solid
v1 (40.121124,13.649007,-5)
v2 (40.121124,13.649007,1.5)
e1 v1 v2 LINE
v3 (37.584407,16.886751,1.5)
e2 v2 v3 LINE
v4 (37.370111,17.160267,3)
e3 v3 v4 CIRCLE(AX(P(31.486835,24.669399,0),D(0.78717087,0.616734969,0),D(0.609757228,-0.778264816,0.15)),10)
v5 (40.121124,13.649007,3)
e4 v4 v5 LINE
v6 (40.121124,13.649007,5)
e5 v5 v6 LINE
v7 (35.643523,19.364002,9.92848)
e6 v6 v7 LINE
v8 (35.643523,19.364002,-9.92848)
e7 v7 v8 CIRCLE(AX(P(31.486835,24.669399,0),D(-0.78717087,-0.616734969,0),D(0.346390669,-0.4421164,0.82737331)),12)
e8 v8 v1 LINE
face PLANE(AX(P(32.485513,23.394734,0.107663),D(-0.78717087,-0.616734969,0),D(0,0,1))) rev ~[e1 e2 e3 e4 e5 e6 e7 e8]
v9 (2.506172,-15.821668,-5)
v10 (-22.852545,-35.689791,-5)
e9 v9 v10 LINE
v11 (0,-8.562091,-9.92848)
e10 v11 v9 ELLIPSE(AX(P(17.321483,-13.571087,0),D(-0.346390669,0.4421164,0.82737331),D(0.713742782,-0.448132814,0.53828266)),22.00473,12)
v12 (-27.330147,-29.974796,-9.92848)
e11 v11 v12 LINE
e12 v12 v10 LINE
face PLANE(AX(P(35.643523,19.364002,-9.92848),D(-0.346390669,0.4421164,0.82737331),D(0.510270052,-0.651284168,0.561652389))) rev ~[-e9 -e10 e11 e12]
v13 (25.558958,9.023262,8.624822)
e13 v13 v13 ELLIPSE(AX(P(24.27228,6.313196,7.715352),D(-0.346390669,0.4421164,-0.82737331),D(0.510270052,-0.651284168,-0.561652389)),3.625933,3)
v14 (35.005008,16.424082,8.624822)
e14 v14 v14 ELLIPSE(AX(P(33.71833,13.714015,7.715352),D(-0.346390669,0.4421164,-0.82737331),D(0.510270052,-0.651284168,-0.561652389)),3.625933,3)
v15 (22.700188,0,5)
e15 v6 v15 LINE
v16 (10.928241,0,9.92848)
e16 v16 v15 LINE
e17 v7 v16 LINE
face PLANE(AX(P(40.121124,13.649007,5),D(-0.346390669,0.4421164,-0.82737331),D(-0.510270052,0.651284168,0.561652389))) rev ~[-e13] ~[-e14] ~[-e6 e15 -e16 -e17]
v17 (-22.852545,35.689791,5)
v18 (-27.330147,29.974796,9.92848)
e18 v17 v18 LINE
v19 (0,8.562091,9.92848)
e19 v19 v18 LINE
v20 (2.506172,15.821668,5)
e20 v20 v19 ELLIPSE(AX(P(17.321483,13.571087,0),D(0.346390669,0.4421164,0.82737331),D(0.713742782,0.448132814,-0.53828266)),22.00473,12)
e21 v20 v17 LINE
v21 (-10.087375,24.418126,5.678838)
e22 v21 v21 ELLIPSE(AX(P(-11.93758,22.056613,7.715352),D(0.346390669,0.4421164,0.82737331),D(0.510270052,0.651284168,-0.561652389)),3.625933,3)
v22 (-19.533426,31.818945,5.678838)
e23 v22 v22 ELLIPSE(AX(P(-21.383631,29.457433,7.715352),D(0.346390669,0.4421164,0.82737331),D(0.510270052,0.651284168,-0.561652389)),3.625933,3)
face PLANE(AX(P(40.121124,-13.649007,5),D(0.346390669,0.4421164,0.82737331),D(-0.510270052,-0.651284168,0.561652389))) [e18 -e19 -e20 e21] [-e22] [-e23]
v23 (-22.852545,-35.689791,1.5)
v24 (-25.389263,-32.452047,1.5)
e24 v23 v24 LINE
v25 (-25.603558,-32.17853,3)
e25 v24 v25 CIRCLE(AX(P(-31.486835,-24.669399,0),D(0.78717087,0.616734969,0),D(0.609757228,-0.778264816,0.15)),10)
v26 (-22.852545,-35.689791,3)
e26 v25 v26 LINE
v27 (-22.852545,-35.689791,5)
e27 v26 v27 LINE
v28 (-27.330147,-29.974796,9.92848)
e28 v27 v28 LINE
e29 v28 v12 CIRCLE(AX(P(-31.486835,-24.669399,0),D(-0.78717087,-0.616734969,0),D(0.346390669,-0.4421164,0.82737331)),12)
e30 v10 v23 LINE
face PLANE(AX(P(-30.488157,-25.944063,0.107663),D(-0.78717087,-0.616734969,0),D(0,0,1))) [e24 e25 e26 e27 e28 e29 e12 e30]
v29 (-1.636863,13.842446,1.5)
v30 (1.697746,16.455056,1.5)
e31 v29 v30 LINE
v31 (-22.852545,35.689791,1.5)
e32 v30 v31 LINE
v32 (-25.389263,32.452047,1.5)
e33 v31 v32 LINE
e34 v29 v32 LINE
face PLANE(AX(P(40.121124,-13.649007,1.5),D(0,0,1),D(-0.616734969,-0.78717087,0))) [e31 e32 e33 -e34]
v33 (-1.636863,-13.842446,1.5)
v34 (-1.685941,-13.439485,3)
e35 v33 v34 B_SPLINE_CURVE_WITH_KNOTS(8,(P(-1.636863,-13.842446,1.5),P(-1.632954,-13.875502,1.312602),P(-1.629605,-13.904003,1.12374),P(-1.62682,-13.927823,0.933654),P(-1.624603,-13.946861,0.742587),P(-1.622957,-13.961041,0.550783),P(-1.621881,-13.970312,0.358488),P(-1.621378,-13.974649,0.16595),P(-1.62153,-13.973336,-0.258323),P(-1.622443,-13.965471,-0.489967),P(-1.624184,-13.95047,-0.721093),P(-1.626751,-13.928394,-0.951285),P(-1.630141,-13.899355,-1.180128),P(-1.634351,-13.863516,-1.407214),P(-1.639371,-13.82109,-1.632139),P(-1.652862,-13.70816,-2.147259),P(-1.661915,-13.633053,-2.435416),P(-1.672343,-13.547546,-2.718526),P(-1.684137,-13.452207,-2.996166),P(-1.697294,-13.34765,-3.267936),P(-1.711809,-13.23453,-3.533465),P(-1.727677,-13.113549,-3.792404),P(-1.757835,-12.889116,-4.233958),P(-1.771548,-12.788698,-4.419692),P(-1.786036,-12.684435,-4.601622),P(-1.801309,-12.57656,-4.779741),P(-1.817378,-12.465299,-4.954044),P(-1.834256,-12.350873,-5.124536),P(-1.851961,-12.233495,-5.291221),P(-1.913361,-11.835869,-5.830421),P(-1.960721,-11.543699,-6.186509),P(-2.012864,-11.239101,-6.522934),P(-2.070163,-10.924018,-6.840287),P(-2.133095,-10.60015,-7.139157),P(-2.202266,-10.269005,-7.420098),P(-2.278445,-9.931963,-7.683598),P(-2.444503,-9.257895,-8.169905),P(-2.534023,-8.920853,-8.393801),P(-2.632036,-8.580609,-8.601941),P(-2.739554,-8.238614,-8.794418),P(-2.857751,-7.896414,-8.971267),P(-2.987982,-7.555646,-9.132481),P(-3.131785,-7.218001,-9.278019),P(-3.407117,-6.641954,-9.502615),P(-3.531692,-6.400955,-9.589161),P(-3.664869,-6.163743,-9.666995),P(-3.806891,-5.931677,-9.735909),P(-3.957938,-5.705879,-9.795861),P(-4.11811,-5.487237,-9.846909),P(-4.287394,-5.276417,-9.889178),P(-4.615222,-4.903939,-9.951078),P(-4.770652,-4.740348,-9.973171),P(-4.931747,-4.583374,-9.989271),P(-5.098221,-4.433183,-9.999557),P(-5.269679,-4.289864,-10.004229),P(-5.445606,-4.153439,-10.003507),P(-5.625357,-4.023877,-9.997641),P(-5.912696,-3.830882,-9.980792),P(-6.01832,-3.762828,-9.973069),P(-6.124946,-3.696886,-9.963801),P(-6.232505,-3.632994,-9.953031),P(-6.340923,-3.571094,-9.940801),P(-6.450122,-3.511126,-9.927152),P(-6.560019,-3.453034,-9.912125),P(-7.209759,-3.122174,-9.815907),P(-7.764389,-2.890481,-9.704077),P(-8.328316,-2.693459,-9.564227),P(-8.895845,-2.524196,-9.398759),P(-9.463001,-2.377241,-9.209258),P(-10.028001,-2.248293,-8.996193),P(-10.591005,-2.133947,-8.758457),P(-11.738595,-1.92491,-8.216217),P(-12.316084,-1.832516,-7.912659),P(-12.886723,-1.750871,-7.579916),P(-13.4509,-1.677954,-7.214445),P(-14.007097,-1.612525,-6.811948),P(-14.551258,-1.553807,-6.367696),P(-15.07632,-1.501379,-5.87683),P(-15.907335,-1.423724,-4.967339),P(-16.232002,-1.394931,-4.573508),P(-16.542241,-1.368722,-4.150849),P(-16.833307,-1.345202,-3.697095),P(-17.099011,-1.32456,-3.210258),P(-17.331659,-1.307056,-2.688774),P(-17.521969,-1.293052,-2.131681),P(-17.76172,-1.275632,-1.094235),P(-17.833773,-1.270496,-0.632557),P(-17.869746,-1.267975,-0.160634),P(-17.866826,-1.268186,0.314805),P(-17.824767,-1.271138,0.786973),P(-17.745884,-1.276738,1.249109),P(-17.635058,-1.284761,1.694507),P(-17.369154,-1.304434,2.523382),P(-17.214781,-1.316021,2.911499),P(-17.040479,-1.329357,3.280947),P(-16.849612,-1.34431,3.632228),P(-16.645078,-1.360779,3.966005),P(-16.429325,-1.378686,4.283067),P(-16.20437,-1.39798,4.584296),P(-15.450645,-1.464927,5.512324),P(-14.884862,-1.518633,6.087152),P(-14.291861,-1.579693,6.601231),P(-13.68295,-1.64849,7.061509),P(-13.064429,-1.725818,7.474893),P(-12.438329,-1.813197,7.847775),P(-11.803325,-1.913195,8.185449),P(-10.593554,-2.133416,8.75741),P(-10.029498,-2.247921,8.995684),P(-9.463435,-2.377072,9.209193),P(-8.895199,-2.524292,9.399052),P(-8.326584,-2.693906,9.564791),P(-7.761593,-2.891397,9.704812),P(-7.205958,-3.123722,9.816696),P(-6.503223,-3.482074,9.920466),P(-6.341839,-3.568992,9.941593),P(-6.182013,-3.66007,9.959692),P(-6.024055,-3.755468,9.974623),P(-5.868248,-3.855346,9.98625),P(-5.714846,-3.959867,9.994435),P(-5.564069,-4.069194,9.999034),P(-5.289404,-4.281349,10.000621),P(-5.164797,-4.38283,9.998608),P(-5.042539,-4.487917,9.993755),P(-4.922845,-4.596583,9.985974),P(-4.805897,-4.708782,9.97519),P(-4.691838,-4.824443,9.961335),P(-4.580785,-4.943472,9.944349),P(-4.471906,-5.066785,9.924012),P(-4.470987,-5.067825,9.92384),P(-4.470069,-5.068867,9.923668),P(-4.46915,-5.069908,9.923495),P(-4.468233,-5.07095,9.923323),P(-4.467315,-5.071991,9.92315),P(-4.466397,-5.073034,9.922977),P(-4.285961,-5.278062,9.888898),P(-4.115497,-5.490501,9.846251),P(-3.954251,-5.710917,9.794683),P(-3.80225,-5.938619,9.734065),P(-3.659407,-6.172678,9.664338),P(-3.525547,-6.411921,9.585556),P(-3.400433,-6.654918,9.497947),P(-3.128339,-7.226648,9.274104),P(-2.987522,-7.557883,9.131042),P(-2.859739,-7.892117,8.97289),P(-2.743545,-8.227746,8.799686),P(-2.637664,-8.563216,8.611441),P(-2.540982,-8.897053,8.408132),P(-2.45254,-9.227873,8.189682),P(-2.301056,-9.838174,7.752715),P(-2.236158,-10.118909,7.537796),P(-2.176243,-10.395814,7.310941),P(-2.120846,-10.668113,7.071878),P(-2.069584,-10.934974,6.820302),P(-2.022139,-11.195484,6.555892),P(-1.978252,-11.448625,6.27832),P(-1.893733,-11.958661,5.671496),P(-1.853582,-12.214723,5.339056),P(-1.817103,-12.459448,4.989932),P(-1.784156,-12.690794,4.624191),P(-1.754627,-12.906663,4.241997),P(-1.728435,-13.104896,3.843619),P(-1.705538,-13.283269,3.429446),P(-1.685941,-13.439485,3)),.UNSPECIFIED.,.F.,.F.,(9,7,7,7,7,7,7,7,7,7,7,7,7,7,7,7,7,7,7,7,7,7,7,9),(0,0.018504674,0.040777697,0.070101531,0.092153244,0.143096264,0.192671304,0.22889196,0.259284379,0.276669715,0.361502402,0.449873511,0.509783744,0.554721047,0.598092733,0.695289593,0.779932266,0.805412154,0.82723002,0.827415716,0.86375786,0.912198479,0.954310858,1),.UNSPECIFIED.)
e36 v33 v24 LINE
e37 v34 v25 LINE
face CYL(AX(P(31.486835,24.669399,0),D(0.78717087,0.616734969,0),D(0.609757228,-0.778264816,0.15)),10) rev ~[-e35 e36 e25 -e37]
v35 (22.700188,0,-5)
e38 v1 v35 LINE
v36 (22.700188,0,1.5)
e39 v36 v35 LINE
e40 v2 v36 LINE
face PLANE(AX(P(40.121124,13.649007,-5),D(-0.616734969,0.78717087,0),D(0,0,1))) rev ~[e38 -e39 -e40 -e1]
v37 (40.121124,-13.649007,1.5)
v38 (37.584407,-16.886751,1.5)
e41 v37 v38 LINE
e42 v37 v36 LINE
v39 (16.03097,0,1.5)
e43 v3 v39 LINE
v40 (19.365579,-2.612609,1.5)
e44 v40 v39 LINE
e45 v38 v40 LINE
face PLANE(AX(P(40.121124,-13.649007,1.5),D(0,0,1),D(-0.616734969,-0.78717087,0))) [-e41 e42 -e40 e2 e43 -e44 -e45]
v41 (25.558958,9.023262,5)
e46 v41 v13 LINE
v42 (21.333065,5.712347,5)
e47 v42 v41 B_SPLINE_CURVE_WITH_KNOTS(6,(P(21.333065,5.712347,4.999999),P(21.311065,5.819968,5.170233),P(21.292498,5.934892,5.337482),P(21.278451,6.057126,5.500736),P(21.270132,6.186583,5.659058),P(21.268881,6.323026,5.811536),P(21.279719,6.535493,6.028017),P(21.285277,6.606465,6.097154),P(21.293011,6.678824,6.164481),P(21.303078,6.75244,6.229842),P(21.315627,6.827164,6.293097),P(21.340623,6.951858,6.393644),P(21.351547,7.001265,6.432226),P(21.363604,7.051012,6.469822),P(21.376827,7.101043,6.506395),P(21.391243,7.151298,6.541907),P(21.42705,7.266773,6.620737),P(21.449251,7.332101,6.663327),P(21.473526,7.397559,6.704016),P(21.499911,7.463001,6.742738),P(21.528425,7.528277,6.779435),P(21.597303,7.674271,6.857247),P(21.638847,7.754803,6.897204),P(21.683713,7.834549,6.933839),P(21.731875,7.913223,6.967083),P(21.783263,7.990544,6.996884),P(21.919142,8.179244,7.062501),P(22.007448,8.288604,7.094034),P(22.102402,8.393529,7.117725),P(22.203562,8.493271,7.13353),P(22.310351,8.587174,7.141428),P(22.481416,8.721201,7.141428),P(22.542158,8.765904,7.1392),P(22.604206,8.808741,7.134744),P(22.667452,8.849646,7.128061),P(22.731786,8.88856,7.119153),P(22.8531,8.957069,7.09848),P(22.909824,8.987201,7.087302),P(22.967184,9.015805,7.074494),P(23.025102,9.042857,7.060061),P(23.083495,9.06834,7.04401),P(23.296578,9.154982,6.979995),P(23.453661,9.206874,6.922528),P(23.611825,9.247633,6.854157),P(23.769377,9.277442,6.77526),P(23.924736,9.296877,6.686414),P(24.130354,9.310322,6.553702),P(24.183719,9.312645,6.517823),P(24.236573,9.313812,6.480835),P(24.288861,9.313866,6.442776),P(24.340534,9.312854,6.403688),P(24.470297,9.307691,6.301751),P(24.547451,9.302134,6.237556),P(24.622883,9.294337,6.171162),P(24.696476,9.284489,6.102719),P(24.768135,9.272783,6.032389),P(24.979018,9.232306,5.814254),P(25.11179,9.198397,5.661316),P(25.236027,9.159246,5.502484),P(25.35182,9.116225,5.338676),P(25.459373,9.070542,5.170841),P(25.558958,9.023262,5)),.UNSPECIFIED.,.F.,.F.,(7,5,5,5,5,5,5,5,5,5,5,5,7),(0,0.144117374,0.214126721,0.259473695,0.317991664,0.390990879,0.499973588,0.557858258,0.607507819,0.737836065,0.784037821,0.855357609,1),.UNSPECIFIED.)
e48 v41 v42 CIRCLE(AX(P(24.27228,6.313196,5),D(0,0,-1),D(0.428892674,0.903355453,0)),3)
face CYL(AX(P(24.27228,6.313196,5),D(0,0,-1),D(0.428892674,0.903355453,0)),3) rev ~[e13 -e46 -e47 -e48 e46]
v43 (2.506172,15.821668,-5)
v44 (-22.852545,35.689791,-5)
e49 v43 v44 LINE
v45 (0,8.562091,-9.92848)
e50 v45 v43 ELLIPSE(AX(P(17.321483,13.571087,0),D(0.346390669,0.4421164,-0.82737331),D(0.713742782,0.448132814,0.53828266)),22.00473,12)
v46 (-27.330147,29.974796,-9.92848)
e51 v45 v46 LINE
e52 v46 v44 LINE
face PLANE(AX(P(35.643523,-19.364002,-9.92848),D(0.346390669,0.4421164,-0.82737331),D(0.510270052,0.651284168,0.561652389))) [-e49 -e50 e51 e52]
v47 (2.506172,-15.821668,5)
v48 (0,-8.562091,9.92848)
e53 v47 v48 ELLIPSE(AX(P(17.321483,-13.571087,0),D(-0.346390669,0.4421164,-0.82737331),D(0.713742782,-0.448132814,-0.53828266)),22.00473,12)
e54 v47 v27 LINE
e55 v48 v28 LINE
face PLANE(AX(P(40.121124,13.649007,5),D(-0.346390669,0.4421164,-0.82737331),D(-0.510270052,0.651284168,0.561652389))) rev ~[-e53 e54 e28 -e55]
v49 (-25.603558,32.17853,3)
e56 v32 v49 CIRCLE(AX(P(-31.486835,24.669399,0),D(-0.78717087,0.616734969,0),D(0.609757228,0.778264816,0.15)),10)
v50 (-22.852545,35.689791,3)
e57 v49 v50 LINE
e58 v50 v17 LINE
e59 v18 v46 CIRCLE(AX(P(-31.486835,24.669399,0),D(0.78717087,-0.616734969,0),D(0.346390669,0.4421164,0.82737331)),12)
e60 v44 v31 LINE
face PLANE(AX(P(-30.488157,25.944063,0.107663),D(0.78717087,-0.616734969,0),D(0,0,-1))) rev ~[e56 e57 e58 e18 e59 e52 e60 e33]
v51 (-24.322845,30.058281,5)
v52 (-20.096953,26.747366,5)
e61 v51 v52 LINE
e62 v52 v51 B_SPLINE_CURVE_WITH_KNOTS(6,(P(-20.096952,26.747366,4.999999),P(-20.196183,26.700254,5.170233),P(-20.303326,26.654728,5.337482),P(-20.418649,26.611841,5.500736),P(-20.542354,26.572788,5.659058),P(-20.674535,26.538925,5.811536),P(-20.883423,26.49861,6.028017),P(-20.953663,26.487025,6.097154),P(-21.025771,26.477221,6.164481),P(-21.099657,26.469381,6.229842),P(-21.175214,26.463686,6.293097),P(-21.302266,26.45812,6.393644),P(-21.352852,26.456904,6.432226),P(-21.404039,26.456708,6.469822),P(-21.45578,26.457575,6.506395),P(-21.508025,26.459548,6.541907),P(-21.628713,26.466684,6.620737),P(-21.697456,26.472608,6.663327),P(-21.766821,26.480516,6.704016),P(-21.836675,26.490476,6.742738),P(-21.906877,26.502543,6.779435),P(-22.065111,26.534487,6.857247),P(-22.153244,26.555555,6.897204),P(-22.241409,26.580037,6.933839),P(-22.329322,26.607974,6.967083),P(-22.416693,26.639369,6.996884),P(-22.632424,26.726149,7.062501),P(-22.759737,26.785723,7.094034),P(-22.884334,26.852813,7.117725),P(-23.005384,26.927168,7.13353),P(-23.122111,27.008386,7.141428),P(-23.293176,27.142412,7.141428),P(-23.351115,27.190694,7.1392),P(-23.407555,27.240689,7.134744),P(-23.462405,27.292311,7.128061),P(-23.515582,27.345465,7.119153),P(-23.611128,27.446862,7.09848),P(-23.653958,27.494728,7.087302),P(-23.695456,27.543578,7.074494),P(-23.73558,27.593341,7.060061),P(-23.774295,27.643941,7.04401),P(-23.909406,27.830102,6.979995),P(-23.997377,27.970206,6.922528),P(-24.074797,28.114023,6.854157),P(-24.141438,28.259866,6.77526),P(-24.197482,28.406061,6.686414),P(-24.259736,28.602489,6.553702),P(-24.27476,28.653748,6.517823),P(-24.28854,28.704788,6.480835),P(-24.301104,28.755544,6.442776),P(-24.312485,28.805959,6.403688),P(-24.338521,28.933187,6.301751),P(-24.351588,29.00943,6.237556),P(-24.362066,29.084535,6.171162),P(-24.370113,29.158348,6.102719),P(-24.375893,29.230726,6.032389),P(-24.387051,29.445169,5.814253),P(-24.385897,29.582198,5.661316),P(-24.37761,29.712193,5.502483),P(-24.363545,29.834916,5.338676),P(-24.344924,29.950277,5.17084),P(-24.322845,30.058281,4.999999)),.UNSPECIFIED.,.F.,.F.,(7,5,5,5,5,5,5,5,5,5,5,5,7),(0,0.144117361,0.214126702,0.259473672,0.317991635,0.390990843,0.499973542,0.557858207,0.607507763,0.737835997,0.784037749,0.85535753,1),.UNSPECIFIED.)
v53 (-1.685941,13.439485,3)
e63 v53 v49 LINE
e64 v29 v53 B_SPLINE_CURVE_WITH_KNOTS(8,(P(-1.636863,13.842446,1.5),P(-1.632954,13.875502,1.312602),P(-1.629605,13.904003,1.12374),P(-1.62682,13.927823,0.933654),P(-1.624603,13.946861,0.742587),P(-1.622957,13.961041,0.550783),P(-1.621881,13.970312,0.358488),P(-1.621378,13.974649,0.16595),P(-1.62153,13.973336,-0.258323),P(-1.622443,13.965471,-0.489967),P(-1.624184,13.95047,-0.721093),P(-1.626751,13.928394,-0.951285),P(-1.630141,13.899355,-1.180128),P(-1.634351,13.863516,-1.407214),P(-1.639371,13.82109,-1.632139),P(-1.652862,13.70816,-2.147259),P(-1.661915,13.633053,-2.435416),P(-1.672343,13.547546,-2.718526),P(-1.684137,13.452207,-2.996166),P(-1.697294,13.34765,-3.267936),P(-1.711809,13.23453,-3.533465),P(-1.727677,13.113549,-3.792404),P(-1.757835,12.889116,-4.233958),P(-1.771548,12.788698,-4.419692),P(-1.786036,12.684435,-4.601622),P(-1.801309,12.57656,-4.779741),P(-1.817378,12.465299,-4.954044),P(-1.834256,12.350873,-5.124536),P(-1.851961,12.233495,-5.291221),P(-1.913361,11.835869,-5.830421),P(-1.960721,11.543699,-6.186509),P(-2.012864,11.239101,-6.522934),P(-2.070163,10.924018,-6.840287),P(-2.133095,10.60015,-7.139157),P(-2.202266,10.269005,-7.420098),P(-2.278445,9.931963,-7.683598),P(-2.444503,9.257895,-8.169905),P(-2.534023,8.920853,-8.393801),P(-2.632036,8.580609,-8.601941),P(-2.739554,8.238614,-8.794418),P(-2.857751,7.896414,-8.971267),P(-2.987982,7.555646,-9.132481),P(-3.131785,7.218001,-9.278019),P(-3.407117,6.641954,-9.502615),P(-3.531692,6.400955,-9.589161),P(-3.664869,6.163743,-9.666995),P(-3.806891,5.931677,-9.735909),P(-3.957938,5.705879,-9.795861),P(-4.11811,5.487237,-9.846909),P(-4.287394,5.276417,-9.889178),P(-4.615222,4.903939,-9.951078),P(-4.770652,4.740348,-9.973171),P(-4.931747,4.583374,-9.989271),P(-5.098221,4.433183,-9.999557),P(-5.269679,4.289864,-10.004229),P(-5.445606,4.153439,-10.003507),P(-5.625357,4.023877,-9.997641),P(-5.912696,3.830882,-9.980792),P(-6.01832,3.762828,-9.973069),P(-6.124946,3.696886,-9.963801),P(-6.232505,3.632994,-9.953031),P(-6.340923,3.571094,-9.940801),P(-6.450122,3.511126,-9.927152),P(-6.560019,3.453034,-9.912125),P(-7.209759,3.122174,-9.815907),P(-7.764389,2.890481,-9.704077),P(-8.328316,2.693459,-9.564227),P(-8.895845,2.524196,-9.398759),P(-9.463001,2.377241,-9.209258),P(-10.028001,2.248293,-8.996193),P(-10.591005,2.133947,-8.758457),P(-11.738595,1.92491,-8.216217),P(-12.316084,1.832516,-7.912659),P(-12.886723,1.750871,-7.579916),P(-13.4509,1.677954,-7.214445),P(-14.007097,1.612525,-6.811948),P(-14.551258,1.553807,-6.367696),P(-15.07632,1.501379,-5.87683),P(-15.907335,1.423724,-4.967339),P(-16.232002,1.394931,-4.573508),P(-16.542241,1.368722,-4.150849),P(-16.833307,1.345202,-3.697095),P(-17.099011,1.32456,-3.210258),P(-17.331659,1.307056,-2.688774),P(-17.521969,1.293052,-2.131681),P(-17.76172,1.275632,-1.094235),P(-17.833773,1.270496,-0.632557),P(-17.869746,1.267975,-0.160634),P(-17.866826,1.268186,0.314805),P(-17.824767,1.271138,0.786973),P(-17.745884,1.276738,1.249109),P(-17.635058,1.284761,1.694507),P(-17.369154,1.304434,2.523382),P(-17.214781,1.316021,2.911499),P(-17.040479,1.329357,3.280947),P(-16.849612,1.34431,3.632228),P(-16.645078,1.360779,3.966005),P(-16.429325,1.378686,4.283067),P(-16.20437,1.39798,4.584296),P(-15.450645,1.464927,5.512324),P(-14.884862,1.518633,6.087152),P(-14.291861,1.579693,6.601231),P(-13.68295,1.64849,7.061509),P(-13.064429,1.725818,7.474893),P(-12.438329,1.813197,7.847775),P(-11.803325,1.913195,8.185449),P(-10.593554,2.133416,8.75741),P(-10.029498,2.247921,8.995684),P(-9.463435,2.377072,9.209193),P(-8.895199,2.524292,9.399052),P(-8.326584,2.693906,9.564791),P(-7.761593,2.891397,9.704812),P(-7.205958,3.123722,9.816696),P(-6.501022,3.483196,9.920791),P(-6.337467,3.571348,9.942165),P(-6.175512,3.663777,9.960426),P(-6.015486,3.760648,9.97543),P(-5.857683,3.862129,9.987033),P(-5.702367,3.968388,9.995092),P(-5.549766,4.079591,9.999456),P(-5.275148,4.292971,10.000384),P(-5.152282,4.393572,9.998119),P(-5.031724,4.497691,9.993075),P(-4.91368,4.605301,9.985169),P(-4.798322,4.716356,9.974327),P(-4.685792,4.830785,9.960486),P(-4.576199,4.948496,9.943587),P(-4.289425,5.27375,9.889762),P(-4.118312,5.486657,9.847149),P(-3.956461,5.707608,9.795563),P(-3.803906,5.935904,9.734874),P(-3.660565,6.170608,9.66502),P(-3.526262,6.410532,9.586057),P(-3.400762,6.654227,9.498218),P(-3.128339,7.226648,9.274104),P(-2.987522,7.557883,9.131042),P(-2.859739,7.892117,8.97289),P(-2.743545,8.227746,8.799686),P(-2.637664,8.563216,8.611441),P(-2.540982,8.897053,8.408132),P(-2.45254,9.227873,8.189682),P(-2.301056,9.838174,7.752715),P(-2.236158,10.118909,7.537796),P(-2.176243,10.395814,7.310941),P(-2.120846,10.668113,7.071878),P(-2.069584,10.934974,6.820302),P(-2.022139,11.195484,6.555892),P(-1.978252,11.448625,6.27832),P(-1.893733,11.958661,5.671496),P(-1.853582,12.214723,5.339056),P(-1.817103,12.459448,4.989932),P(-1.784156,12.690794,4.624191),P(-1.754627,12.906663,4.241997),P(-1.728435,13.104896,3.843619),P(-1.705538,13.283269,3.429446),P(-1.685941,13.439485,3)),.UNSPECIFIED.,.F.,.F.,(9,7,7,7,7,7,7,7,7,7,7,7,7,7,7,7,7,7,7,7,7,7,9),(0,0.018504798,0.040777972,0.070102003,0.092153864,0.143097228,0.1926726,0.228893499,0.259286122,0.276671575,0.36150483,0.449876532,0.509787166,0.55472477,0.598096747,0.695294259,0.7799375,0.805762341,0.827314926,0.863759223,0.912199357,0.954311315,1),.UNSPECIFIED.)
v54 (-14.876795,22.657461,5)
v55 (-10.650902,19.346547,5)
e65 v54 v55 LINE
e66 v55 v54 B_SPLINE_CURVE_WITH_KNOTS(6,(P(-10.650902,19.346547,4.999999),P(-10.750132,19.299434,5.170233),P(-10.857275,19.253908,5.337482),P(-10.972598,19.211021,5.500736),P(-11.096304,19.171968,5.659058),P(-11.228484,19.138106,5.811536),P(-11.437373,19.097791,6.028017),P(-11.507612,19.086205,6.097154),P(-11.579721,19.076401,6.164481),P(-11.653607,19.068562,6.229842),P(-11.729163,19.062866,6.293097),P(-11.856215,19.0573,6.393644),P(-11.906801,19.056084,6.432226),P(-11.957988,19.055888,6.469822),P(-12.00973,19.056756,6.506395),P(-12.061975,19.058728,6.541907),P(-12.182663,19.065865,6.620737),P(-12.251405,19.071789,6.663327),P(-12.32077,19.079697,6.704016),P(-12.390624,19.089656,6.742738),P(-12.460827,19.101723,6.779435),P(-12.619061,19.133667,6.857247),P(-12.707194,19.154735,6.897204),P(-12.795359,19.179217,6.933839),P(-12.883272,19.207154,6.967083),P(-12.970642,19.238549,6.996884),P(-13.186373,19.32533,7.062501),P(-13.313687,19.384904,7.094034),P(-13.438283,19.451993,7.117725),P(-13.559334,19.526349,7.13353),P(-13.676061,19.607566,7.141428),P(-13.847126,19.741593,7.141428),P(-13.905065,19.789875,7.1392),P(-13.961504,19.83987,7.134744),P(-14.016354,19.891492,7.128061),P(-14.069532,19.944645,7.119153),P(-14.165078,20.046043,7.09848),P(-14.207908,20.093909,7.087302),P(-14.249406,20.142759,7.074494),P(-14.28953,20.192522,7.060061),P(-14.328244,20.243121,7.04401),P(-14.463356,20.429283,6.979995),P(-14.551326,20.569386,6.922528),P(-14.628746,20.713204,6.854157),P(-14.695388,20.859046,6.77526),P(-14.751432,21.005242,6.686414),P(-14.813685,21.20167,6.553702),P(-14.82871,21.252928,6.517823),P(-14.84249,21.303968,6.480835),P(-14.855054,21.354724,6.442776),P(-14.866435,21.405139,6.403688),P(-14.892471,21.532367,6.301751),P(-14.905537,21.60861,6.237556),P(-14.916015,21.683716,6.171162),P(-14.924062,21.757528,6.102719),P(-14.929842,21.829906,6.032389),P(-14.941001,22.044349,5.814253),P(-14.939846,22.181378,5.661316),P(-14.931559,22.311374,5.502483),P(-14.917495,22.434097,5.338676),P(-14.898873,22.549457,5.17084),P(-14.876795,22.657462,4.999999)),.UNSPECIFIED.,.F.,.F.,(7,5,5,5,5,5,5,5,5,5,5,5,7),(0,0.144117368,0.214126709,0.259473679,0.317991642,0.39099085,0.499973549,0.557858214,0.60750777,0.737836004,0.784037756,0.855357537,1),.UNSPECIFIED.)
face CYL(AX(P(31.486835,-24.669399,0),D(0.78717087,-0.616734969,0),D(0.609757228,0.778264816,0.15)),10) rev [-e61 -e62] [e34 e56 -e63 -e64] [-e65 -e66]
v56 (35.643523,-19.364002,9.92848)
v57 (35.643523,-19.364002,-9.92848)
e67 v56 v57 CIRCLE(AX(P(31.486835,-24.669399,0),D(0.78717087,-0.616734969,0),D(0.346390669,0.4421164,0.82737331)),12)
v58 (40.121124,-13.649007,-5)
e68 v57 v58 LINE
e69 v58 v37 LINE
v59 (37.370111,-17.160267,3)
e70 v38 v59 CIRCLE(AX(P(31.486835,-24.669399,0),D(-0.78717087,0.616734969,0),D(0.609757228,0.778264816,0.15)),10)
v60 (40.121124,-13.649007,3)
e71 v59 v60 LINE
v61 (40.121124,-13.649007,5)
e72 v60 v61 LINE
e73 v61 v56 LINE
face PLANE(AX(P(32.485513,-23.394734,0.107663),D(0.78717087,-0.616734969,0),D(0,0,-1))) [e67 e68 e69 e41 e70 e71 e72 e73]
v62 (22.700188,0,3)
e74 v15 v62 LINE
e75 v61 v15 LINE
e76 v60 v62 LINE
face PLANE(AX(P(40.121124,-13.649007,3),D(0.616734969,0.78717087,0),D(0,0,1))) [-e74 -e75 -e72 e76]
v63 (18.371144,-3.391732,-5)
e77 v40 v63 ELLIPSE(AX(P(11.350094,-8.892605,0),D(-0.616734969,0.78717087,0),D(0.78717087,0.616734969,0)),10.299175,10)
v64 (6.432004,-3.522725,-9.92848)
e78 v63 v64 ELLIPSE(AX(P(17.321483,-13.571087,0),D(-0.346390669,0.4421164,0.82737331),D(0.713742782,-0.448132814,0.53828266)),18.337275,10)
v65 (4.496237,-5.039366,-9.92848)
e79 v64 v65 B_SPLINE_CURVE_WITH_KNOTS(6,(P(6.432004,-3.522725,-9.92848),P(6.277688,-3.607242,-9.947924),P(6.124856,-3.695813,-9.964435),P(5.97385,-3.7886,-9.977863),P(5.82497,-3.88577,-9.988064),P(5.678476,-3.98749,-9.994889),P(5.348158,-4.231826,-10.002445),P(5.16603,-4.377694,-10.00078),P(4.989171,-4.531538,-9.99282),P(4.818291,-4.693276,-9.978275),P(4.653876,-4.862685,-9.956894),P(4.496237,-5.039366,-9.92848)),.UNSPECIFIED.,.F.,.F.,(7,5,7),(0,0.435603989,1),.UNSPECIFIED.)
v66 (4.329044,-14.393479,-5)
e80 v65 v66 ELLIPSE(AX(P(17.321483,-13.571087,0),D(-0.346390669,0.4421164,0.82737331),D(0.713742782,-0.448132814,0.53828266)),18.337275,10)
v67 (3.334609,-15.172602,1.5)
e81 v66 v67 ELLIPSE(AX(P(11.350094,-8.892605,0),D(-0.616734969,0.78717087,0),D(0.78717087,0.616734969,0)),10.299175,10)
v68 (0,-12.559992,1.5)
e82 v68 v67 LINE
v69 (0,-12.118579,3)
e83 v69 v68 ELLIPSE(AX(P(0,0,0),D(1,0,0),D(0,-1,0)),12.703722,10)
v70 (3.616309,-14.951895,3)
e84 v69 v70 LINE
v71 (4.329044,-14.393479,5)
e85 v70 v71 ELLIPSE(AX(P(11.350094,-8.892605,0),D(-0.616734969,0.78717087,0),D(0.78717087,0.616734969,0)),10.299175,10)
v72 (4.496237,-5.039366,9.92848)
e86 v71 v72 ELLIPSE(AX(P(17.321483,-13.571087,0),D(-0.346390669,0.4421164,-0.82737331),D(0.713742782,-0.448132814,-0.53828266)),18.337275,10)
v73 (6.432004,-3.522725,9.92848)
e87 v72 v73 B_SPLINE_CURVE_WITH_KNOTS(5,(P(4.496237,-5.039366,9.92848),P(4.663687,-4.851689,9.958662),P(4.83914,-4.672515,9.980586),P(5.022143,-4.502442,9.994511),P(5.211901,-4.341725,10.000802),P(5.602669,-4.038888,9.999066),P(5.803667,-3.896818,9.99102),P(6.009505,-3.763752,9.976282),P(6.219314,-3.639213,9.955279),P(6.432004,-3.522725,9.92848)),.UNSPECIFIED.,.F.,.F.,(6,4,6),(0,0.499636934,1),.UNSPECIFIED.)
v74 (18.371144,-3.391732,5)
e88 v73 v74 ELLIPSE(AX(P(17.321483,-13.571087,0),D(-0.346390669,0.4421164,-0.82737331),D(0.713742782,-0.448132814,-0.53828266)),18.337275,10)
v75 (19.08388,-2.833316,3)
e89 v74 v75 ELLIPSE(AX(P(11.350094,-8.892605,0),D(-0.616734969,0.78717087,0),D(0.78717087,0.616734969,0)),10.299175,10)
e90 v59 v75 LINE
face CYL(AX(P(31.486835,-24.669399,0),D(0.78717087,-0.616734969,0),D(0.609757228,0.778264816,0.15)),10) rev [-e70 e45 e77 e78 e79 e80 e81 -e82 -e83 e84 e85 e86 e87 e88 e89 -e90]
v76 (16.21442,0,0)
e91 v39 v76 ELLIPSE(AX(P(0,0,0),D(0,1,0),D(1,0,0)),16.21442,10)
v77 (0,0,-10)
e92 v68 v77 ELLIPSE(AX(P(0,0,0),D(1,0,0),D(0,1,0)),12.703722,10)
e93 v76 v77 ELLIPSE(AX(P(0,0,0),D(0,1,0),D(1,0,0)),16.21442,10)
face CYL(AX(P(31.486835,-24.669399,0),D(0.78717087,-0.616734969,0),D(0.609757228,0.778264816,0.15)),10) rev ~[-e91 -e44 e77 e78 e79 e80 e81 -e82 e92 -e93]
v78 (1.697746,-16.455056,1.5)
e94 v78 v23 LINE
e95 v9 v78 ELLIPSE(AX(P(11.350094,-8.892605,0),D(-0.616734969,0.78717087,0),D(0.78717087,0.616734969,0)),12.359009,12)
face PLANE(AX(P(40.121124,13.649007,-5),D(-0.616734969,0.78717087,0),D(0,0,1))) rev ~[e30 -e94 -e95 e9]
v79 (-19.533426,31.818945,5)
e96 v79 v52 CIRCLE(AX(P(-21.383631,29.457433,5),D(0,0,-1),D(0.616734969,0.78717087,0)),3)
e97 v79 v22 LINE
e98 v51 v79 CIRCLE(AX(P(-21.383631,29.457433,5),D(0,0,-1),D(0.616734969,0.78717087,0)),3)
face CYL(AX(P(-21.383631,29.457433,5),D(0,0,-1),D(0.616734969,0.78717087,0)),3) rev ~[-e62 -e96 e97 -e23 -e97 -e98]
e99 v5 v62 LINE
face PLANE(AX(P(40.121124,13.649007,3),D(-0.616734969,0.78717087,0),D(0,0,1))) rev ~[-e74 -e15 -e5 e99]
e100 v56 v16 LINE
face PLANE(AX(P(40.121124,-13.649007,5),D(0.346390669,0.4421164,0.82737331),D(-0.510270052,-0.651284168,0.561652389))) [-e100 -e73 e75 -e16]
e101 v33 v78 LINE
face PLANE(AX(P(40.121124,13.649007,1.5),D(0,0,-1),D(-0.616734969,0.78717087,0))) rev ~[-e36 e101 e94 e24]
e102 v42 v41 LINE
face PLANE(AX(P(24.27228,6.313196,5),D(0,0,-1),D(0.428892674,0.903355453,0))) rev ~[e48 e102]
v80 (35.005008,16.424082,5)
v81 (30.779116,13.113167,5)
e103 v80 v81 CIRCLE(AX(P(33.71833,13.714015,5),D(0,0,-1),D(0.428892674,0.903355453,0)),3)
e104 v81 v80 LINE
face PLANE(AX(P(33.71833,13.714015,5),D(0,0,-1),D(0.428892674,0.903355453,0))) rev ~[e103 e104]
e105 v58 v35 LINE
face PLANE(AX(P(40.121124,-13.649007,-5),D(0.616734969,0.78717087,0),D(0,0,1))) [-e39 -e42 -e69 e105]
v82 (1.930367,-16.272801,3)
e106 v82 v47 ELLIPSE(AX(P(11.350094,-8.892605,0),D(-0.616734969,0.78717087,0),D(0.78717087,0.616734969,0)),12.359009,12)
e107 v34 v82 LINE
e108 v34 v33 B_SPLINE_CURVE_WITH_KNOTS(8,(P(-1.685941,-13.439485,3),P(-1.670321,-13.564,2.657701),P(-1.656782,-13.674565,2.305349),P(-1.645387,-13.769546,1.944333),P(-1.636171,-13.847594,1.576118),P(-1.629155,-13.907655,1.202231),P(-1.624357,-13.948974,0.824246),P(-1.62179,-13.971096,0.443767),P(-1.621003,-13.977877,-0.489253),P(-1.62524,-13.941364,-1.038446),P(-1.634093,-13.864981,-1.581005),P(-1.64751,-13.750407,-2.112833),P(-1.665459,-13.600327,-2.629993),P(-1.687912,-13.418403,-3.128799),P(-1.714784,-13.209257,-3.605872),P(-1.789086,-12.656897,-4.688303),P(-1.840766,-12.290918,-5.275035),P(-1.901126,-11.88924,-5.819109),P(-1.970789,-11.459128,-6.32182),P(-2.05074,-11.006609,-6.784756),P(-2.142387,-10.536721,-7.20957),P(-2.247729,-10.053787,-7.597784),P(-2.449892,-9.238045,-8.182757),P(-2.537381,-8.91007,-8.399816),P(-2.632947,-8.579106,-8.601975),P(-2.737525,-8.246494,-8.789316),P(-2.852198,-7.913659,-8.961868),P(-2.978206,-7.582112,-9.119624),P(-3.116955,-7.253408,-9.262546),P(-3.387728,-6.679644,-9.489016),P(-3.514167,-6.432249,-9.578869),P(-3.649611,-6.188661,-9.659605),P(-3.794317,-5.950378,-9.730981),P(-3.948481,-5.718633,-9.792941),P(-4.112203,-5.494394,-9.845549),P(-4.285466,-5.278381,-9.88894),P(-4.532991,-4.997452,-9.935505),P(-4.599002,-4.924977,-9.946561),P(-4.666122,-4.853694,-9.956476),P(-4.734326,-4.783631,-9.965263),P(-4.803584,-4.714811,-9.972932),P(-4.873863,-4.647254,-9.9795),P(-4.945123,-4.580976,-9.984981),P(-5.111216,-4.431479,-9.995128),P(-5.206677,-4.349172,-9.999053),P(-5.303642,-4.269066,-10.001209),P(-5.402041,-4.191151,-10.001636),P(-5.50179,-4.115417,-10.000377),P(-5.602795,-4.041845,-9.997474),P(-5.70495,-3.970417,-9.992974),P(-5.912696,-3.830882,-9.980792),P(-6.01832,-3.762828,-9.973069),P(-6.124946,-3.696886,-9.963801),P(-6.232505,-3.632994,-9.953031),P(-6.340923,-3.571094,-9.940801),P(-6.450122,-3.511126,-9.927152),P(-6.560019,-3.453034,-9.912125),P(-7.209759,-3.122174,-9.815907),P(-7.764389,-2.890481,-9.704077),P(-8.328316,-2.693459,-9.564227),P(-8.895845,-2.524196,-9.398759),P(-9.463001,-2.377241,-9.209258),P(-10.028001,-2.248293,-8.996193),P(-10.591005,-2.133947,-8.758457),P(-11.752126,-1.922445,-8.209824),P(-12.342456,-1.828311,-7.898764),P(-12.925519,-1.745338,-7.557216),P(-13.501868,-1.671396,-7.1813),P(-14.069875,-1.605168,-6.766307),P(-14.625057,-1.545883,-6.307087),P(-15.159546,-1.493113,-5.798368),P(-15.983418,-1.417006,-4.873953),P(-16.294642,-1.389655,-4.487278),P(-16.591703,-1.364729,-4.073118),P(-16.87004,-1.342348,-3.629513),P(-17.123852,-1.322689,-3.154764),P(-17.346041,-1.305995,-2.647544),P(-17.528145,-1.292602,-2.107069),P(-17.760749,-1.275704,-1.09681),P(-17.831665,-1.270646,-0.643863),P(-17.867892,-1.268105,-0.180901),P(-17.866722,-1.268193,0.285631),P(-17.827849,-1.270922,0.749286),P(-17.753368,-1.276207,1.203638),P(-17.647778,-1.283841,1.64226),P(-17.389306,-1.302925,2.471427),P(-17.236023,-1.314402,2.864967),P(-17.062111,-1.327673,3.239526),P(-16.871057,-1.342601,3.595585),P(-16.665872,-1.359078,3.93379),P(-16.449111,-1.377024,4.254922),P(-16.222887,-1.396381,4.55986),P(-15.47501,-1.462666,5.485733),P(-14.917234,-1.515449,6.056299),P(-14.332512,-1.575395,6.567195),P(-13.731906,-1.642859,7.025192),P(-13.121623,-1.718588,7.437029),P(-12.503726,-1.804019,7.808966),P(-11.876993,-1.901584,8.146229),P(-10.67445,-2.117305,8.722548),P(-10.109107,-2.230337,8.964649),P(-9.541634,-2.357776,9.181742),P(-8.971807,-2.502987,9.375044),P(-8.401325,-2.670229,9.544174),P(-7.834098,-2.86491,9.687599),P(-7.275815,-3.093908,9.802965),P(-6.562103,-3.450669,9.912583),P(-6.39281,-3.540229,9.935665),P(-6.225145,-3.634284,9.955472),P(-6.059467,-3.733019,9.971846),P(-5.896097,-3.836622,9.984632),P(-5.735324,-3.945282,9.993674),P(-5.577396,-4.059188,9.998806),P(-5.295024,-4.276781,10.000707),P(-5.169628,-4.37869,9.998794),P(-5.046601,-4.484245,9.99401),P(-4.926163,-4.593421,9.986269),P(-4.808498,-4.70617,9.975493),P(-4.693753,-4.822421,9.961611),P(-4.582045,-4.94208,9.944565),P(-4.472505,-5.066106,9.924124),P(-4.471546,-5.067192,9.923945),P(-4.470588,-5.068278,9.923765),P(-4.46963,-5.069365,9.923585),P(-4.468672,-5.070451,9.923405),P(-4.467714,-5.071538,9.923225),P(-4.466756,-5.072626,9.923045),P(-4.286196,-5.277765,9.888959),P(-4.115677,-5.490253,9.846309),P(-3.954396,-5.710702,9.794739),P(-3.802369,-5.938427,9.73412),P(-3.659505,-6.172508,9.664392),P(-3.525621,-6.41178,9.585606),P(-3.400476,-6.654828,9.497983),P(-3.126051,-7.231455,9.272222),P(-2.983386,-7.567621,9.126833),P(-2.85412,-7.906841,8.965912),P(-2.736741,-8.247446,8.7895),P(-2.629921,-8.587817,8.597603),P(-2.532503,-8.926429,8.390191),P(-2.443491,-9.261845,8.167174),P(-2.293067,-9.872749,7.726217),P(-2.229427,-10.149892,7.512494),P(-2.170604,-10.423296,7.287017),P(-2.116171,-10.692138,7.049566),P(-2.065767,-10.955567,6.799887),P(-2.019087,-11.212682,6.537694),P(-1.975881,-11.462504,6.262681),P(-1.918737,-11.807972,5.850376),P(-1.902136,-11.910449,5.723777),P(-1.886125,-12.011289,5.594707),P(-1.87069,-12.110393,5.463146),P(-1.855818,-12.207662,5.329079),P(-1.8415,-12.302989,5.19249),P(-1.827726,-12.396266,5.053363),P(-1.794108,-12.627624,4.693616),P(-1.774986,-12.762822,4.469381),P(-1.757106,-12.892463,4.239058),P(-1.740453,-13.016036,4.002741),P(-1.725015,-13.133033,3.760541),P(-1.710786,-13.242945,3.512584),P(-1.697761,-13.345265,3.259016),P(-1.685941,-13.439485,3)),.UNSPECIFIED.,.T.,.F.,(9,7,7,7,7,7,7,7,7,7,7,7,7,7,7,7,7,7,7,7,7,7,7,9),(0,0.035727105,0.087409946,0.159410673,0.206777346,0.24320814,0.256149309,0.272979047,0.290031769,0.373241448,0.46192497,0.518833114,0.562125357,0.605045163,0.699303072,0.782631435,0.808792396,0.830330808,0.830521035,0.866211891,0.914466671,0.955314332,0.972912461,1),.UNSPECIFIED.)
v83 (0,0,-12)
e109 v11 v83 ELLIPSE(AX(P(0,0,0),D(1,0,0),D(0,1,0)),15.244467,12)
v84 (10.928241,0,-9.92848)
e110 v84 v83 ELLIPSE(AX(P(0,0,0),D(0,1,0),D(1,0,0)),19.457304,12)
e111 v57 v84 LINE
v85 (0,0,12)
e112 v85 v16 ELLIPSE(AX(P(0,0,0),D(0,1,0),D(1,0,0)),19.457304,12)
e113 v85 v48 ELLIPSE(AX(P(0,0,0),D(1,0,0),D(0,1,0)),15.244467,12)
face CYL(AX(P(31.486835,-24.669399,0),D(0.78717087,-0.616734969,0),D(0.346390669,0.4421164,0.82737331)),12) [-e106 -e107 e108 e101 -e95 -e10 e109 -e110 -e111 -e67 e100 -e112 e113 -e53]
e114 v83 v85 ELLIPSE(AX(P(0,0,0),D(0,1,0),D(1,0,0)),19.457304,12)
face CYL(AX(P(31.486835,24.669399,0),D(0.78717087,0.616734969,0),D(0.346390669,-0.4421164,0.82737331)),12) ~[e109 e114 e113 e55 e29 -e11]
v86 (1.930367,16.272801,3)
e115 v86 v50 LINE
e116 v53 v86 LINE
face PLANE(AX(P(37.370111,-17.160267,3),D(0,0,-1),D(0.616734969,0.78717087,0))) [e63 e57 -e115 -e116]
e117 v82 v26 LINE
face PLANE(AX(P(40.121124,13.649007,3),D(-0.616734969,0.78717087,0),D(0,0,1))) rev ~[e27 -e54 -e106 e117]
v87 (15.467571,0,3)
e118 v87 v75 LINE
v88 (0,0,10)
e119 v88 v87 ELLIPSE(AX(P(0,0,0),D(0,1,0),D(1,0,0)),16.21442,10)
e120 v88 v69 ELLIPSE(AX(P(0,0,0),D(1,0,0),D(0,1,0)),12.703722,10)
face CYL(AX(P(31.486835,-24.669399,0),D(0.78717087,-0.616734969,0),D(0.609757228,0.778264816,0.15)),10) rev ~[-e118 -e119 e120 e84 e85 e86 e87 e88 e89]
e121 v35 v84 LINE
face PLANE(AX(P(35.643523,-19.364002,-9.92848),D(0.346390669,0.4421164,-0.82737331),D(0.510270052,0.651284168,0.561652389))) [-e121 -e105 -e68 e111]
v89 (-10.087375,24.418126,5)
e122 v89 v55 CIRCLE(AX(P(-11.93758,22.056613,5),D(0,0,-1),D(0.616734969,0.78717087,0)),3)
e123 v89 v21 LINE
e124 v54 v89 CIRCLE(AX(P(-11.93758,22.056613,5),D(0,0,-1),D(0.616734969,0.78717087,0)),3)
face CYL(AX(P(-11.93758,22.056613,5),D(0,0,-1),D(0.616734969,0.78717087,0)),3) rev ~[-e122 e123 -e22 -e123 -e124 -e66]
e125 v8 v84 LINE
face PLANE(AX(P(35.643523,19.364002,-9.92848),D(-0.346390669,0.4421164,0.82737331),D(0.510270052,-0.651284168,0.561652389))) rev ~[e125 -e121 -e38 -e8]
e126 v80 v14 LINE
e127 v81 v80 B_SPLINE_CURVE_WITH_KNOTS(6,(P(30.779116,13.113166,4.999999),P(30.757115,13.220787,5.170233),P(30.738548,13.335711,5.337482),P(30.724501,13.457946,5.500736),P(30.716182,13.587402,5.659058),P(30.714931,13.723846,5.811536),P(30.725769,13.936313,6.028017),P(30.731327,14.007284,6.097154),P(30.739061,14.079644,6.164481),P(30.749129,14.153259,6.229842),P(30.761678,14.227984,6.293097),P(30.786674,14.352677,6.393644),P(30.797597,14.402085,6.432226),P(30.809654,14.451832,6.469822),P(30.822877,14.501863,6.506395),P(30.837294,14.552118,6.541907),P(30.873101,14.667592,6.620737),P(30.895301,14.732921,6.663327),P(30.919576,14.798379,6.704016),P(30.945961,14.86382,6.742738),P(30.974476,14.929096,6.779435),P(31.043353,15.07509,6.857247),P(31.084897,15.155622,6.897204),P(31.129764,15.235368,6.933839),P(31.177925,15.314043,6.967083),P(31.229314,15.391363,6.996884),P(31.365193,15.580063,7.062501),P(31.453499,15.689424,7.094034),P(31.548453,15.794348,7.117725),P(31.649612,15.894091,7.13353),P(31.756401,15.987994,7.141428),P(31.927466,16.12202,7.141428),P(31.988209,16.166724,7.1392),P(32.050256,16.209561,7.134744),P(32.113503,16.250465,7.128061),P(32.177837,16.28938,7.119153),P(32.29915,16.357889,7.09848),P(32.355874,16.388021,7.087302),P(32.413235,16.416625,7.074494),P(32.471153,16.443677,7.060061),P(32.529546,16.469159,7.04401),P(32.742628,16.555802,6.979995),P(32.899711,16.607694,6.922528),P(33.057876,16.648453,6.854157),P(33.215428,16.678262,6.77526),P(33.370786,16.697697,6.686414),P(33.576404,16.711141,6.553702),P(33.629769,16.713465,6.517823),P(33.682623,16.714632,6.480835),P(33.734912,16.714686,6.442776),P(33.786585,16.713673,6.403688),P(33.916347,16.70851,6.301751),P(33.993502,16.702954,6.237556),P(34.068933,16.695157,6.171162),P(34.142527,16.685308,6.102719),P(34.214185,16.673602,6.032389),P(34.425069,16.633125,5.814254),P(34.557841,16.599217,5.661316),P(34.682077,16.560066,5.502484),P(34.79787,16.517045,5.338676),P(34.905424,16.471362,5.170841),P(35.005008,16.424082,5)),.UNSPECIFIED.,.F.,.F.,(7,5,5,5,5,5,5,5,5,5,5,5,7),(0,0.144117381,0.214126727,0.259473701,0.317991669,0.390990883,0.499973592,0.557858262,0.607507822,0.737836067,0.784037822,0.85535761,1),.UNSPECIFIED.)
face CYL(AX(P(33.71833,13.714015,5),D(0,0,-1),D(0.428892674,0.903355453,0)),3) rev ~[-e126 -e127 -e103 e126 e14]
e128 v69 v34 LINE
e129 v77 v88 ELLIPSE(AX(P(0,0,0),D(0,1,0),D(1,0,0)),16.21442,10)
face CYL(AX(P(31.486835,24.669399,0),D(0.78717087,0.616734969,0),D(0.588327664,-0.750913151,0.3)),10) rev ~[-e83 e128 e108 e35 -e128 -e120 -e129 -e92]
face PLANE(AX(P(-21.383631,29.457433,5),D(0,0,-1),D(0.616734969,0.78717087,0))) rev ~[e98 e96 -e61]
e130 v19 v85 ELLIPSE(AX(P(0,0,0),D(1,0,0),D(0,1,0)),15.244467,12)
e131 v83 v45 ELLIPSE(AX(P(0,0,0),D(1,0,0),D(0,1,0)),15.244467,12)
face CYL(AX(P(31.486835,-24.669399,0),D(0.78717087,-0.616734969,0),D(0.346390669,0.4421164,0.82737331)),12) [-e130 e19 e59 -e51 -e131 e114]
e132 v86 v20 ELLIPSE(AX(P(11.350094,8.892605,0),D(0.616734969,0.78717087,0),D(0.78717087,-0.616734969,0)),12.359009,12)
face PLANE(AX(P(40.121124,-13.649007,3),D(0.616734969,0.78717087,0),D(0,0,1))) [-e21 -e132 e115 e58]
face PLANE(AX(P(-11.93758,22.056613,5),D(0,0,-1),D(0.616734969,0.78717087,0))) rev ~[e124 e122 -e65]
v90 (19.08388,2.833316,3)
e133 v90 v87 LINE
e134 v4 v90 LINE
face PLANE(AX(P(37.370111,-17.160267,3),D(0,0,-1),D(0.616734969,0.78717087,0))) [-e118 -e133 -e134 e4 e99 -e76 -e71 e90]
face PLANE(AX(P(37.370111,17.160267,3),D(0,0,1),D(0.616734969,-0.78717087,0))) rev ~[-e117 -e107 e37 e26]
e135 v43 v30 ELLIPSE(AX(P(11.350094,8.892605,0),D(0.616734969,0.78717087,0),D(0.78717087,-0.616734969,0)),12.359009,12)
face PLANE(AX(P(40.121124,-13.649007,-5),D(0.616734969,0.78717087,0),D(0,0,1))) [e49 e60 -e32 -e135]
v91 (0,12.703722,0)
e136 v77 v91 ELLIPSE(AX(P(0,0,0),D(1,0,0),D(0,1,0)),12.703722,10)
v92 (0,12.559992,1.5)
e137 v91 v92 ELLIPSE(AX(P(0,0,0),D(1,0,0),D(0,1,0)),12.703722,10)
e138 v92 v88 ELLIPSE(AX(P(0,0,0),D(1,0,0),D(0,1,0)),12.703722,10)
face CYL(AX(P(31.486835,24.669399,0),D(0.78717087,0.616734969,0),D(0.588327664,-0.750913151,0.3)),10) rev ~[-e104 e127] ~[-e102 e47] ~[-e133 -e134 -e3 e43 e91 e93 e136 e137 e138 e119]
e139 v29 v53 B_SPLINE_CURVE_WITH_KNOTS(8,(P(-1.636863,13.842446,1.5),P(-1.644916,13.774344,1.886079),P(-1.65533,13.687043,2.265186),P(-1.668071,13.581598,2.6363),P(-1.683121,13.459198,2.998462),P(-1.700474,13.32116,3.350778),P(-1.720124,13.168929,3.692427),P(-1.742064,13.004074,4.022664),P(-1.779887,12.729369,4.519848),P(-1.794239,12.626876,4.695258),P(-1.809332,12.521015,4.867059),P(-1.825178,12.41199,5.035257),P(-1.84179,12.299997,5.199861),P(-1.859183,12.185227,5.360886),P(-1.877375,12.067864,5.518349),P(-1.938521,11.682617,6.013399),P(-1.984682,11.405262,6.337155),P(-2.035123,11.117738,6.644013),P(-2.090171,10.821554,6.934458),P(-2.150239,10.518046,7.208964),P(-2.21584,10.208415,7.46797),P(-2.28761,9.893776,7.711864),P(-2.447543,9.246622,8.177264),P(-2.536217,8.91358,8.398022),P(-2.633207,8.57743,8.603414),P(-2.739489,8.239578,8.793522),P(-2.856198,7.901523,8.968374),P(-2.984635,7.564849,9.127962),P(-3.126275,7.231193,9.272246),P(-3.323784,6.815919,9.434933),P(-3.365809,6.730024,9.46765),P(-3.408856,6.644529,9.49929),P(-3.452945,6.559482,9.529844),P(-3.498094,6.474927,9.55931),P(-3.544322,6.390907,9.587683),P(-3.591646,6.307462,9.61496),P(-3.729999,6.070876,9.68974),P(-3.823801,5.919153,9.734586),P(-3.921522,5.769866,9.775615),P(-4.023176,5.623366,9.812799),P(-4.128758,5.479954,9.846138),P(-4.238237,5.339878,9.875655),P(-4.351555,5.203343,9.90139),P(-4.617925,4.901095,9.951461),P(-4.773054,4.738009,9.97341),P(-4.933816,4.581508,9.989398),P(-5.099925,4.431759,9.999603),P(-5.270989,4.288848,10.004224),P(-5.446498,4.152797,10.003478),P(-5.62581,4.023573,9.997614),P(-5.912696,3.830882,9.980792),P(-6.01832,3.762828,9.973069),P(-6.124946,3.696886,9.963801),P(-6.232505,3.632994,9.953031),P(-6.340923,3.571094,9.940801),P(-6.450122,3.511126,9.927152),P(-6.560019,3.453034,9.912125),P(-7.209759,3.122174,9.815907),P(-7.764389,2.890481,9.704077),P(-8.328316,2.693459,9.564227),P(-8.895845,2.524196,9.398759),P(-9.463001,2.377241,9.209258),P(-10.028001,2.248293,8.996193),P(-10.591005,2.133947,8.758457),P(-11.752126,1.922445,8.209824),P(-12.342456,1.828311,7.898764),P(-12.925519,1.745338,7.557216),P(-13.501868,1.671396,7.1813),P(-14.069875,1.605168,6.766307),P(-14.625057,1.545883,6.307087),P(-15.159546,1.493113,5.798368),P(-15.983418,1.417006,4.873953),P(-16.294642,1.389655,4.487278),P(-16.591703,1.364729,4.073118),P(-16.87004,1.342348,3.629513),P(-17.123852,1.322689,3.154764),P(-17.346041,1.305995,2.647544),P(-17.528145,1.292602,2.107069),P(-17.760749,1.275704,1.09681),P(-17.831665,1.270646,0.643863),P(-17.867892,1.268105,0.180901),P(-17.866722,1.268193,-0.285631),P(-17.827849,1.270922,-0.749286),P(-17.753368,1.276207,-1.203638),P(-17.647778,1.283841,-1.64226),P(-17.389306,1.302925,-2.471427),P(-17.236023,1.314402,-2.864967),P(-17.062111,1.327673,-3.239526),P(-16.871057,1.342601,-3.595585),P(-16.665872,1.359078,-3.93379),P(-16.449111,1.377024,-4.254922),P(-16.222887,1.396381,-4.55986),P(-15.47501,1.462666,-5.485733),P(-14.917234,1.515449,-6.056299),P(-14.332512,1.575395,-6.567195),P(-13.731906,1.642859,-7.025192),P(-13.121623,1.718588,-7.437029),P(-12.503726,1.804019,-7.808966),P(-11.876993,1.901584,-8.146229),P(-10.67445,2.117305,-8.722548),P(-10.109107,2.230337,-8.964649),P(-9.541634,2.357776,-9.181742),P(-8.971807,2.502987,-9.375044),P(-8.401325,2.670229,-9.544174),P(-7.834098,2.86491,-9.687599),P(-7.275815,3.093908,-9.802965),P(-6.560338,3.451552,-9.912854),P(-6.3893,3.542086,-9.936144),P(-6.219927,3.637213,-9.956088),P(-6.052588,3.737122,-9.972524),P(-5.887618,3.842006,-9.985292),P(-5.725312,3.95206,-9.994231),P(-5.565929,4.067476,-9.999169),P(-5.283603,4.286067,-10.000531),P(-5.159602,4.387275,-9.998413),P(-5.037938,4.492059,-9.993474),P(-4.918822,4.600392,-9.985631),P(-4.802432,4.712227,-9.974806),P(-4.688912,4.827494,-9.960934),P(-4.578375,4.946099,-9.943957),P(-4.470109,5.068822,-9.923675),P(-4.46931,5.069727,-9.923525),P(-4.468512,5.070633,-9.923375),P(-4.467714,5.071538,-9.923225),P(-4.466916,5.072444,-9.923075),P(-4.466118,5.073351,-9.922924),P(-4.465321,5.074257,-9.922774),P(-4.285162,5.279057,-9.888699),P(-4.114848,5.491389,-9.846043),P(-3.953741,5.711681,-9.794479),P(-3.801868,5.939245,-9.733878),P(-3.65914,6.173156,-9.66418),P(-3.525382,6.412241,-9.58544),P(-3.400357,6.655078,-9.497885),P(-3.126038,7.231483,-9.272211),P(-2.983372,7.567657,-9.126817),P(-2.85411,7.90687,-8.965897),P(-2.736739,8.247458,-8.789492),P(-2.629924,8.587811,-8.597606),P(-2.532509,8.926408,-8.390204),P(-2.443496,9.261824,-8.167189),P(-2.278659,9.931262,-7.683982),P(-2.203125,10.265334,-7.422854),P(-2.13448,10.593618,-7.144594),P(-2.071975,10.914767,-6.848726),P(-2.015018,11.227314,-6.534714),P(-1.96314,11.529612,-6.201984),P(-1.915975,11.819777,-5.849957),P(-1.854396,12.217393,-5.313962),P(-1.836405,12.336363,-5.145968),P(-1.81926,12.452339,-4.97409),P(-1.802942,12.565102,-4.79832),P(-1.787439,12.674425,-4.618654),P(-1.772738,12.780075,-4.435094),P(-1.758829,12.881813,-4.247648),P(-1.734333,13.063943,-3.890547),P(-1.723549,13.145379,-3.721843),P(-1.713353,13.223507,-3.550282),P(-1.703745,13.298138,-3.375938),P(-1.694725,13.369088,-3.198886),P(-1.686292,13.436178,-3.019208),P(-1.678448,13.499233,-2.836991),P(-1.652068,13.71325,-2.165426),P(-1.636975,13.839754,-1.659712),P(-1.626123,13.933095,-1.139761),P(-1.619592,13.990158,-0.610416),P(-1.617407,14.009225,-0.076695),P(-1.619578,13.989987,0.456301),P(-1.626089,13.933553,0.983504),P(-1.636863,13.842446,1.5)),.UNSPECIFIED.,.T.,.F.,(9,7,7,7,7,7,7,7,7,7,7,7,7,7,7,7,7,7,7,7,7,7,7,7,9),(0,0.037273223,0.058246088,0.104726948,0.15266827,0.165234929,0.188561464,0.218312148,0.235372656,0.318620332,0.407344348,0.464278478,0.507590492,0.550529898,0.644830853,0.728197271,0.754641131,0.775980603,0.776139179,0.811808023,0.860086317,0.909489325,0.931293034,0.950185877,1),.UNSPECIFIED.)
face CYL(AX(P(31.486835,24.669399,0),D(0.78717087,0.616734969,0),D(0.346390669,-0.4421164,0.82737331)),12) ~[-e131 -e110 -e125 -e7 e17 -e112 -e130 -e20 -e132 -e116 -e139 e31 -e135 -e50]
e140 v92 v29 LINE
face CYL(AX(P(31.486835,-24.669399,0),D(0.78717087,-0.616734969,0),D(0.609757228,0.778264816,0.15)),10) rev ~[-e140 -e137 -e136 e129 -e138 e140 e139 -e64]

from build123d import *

# Parameters (mm, degrees)
BOSS_EXTRU_1_DEPTH      = 80
BOSS_EXTRU_2_DEPTH      = 80
ESQUISSE6_R             = 10
ENL_V_MAT_EXTRU_1_DEPTH = 94.48690022224822
ESQUISSE7_R             = 10.000000000000004
ENL_V_MAT_EXTRU_2_DEPTH = 94.48690022224821
ENL_V_START             = -2
ESQUISSE8_R             = 2.9999999999999973
ESQUISSE8_R_2           = 3.0000000000000004
ENL_V_MAT_EXTRU_3_DEPTH = 10


with BuildPart() as part:
    # Esquisse4 → Boss.-Extru.1 (new body)
    with BuildSketch(Plane(origin=(31.486834784070687, 24.669398762041954, 0), x_dir=(0, 0, 1), z_dir=(-0.7871708696017671, -0.6167349690510487, 0))):
        with BuildLine():
            Line((-9.92847971530262, -6.739828673106199), (-5.000000000000012, -13.999999999999998))
            Line((-5.000000000000012, -13.999999999999998), (1.4999999999999891, -14.000000000000004))
            Line((1.4999999999999891, -14.000000000000004), (1.4999999999999891, -9.886859966642595))
            ThreePointArc((1.4999999999999891, -9.886859966642595), (-2.2566974751833473, 9.742038621638756), (2.9999999999999933, -9.539392014169461))
            Line((2.9999999999999933, -9.539392014169461), (2.999999999999988, -14.000000000000005))
            Line((2.999999999999988, -14.000000000000005), (4.999999999999987, -14.000000000000009))
            Line((4.999999999999987, -14.000000000000009), (9.928479715302606, -6.739828673106216))
            ThreePointArc((9.928479715302606, -6.739828673106216), (1.807e-14, 12), (-9.92847971530262, -6.739828673106199))
        make_face()
    extrude(amount=BOSS_EXTRU_1_DEPTH)

    # Esquisse5 → Boss.-Extru.2 (add)
    with BuildSketch(Plane(origin=(31.48683478407068, -24.66939876204195, 0), x_dir=(0, 0, -1), z_dir=(0.7871708696017671, -0.6167349690510487, 0))):
        with BuildLine():
            Line((9.9284797153026, 6.7398286731062225), (4.999999999999976, 14.000000000000009))
            Line((4.999999999999976, 14.000000000000009), (-1.5000000000000255, 13.999999999999995))
            Line((-1.5000000000000255, 13.999999999999995), (-1.5000000000000149, 9.88685996664259))
            ThreePointArc((-1.5000000000000149, 9.88685996664259), (2.256697475183369, -9.742038621638747), (-3.0000000000000173, 9.53939201416945))
            Line((-3.0000000000000173, 9.53939201416945), (-3.0000000000000244, 13.999999999999996))
            Line((-3.0000000000000244, 13.999999999999996), (-5.000000000000023, 13.999999999999991))
            Line((-5.000000000000023, 13.999999999999991), (-9.928479715302622, 6.739828673106189))
            ThreePointArc((-9.928479715302622, 6.739828673106189), (1.777e-14, -11.999999999999998), (9.9284797153026, 6.7398286731062225))
        make_face()
    extrude(amount=-BOSS_EXTRU_2_DEPTH)

    # Esquisse6 → Enlèv. mat.-Extru.1 (cut, through all)
    with BuildSketch(Plane(origin=(31.486834784070695, 24.669398762041958, 0), x_dir=(0, 0, -1), z_dir=(0.7871708696017669, 0.6167349690510489, 0))):
        with Locations(Location((0, 6.94e-15, 0), (0, 0, 252.542396876))):
            Circle(ESQUISSE6_R)
    extrude(amount=-ENL_V_MAT_EXTRU_1_DEPTH, mode=Mode.SUBTRACT)

    # Esquisse7 → Enlèv. mat.-Extru.2 (cut, through all)
    with BuildSketch(Plane(origin=(31.486834784070687, -24.669398762041954, 0), x_dir=(0, 0, -1), z_dir=(0.7871708696017669, -0.6167349690510489, 0))):
        with Locations(Location((0, -6.94e-15, 0), (0, 0, 98.626926559))):
            Circle(ESQUISSE7_R)
    extrude(amount=-ENL_V_MAT_EXTRU_2_DEPTH, mode=Mode.SUBTRACT)

    # Esquisse8 → Enlèv. mat.-Extru.3 (cut)
    with BuildSketch(Plane(origin=(5e-17, -5.97e-15, 2.999999999999953), x_dir=(-1, 0, 2e-17), z_dir=(-2e-17, 1.99e-15, -1)).offset(ENL_V_START)):
        with Locations(Location((21.383630745551354, 29.45743261280437, 0), (0, 0, 128.078094677))):
            Circle(ESQUISSE8_R)
        with Locations(Location((11.937580310330151, 22.056612984191787, 0), (0, 0, 128.078094677))):
            Circle(ESQUISSE8_R_2)
        with Locations(Location((-24.272279691351134, 6.31319559215644, 0), (0, 0, 115.397306959))):
            Circle(ESQUISSE8_R)
        with Locations(Location((-33.71833012657233, 13.714015220769031, 0), (0, 0, 115.397306959))):
            Circle(ESQUISSE8_R_2)
    extrude(amount=-ENL_V_MAT_EXTRU_3_DEPTH, mode=Mode.SUBTRACT)


solid = part.part
